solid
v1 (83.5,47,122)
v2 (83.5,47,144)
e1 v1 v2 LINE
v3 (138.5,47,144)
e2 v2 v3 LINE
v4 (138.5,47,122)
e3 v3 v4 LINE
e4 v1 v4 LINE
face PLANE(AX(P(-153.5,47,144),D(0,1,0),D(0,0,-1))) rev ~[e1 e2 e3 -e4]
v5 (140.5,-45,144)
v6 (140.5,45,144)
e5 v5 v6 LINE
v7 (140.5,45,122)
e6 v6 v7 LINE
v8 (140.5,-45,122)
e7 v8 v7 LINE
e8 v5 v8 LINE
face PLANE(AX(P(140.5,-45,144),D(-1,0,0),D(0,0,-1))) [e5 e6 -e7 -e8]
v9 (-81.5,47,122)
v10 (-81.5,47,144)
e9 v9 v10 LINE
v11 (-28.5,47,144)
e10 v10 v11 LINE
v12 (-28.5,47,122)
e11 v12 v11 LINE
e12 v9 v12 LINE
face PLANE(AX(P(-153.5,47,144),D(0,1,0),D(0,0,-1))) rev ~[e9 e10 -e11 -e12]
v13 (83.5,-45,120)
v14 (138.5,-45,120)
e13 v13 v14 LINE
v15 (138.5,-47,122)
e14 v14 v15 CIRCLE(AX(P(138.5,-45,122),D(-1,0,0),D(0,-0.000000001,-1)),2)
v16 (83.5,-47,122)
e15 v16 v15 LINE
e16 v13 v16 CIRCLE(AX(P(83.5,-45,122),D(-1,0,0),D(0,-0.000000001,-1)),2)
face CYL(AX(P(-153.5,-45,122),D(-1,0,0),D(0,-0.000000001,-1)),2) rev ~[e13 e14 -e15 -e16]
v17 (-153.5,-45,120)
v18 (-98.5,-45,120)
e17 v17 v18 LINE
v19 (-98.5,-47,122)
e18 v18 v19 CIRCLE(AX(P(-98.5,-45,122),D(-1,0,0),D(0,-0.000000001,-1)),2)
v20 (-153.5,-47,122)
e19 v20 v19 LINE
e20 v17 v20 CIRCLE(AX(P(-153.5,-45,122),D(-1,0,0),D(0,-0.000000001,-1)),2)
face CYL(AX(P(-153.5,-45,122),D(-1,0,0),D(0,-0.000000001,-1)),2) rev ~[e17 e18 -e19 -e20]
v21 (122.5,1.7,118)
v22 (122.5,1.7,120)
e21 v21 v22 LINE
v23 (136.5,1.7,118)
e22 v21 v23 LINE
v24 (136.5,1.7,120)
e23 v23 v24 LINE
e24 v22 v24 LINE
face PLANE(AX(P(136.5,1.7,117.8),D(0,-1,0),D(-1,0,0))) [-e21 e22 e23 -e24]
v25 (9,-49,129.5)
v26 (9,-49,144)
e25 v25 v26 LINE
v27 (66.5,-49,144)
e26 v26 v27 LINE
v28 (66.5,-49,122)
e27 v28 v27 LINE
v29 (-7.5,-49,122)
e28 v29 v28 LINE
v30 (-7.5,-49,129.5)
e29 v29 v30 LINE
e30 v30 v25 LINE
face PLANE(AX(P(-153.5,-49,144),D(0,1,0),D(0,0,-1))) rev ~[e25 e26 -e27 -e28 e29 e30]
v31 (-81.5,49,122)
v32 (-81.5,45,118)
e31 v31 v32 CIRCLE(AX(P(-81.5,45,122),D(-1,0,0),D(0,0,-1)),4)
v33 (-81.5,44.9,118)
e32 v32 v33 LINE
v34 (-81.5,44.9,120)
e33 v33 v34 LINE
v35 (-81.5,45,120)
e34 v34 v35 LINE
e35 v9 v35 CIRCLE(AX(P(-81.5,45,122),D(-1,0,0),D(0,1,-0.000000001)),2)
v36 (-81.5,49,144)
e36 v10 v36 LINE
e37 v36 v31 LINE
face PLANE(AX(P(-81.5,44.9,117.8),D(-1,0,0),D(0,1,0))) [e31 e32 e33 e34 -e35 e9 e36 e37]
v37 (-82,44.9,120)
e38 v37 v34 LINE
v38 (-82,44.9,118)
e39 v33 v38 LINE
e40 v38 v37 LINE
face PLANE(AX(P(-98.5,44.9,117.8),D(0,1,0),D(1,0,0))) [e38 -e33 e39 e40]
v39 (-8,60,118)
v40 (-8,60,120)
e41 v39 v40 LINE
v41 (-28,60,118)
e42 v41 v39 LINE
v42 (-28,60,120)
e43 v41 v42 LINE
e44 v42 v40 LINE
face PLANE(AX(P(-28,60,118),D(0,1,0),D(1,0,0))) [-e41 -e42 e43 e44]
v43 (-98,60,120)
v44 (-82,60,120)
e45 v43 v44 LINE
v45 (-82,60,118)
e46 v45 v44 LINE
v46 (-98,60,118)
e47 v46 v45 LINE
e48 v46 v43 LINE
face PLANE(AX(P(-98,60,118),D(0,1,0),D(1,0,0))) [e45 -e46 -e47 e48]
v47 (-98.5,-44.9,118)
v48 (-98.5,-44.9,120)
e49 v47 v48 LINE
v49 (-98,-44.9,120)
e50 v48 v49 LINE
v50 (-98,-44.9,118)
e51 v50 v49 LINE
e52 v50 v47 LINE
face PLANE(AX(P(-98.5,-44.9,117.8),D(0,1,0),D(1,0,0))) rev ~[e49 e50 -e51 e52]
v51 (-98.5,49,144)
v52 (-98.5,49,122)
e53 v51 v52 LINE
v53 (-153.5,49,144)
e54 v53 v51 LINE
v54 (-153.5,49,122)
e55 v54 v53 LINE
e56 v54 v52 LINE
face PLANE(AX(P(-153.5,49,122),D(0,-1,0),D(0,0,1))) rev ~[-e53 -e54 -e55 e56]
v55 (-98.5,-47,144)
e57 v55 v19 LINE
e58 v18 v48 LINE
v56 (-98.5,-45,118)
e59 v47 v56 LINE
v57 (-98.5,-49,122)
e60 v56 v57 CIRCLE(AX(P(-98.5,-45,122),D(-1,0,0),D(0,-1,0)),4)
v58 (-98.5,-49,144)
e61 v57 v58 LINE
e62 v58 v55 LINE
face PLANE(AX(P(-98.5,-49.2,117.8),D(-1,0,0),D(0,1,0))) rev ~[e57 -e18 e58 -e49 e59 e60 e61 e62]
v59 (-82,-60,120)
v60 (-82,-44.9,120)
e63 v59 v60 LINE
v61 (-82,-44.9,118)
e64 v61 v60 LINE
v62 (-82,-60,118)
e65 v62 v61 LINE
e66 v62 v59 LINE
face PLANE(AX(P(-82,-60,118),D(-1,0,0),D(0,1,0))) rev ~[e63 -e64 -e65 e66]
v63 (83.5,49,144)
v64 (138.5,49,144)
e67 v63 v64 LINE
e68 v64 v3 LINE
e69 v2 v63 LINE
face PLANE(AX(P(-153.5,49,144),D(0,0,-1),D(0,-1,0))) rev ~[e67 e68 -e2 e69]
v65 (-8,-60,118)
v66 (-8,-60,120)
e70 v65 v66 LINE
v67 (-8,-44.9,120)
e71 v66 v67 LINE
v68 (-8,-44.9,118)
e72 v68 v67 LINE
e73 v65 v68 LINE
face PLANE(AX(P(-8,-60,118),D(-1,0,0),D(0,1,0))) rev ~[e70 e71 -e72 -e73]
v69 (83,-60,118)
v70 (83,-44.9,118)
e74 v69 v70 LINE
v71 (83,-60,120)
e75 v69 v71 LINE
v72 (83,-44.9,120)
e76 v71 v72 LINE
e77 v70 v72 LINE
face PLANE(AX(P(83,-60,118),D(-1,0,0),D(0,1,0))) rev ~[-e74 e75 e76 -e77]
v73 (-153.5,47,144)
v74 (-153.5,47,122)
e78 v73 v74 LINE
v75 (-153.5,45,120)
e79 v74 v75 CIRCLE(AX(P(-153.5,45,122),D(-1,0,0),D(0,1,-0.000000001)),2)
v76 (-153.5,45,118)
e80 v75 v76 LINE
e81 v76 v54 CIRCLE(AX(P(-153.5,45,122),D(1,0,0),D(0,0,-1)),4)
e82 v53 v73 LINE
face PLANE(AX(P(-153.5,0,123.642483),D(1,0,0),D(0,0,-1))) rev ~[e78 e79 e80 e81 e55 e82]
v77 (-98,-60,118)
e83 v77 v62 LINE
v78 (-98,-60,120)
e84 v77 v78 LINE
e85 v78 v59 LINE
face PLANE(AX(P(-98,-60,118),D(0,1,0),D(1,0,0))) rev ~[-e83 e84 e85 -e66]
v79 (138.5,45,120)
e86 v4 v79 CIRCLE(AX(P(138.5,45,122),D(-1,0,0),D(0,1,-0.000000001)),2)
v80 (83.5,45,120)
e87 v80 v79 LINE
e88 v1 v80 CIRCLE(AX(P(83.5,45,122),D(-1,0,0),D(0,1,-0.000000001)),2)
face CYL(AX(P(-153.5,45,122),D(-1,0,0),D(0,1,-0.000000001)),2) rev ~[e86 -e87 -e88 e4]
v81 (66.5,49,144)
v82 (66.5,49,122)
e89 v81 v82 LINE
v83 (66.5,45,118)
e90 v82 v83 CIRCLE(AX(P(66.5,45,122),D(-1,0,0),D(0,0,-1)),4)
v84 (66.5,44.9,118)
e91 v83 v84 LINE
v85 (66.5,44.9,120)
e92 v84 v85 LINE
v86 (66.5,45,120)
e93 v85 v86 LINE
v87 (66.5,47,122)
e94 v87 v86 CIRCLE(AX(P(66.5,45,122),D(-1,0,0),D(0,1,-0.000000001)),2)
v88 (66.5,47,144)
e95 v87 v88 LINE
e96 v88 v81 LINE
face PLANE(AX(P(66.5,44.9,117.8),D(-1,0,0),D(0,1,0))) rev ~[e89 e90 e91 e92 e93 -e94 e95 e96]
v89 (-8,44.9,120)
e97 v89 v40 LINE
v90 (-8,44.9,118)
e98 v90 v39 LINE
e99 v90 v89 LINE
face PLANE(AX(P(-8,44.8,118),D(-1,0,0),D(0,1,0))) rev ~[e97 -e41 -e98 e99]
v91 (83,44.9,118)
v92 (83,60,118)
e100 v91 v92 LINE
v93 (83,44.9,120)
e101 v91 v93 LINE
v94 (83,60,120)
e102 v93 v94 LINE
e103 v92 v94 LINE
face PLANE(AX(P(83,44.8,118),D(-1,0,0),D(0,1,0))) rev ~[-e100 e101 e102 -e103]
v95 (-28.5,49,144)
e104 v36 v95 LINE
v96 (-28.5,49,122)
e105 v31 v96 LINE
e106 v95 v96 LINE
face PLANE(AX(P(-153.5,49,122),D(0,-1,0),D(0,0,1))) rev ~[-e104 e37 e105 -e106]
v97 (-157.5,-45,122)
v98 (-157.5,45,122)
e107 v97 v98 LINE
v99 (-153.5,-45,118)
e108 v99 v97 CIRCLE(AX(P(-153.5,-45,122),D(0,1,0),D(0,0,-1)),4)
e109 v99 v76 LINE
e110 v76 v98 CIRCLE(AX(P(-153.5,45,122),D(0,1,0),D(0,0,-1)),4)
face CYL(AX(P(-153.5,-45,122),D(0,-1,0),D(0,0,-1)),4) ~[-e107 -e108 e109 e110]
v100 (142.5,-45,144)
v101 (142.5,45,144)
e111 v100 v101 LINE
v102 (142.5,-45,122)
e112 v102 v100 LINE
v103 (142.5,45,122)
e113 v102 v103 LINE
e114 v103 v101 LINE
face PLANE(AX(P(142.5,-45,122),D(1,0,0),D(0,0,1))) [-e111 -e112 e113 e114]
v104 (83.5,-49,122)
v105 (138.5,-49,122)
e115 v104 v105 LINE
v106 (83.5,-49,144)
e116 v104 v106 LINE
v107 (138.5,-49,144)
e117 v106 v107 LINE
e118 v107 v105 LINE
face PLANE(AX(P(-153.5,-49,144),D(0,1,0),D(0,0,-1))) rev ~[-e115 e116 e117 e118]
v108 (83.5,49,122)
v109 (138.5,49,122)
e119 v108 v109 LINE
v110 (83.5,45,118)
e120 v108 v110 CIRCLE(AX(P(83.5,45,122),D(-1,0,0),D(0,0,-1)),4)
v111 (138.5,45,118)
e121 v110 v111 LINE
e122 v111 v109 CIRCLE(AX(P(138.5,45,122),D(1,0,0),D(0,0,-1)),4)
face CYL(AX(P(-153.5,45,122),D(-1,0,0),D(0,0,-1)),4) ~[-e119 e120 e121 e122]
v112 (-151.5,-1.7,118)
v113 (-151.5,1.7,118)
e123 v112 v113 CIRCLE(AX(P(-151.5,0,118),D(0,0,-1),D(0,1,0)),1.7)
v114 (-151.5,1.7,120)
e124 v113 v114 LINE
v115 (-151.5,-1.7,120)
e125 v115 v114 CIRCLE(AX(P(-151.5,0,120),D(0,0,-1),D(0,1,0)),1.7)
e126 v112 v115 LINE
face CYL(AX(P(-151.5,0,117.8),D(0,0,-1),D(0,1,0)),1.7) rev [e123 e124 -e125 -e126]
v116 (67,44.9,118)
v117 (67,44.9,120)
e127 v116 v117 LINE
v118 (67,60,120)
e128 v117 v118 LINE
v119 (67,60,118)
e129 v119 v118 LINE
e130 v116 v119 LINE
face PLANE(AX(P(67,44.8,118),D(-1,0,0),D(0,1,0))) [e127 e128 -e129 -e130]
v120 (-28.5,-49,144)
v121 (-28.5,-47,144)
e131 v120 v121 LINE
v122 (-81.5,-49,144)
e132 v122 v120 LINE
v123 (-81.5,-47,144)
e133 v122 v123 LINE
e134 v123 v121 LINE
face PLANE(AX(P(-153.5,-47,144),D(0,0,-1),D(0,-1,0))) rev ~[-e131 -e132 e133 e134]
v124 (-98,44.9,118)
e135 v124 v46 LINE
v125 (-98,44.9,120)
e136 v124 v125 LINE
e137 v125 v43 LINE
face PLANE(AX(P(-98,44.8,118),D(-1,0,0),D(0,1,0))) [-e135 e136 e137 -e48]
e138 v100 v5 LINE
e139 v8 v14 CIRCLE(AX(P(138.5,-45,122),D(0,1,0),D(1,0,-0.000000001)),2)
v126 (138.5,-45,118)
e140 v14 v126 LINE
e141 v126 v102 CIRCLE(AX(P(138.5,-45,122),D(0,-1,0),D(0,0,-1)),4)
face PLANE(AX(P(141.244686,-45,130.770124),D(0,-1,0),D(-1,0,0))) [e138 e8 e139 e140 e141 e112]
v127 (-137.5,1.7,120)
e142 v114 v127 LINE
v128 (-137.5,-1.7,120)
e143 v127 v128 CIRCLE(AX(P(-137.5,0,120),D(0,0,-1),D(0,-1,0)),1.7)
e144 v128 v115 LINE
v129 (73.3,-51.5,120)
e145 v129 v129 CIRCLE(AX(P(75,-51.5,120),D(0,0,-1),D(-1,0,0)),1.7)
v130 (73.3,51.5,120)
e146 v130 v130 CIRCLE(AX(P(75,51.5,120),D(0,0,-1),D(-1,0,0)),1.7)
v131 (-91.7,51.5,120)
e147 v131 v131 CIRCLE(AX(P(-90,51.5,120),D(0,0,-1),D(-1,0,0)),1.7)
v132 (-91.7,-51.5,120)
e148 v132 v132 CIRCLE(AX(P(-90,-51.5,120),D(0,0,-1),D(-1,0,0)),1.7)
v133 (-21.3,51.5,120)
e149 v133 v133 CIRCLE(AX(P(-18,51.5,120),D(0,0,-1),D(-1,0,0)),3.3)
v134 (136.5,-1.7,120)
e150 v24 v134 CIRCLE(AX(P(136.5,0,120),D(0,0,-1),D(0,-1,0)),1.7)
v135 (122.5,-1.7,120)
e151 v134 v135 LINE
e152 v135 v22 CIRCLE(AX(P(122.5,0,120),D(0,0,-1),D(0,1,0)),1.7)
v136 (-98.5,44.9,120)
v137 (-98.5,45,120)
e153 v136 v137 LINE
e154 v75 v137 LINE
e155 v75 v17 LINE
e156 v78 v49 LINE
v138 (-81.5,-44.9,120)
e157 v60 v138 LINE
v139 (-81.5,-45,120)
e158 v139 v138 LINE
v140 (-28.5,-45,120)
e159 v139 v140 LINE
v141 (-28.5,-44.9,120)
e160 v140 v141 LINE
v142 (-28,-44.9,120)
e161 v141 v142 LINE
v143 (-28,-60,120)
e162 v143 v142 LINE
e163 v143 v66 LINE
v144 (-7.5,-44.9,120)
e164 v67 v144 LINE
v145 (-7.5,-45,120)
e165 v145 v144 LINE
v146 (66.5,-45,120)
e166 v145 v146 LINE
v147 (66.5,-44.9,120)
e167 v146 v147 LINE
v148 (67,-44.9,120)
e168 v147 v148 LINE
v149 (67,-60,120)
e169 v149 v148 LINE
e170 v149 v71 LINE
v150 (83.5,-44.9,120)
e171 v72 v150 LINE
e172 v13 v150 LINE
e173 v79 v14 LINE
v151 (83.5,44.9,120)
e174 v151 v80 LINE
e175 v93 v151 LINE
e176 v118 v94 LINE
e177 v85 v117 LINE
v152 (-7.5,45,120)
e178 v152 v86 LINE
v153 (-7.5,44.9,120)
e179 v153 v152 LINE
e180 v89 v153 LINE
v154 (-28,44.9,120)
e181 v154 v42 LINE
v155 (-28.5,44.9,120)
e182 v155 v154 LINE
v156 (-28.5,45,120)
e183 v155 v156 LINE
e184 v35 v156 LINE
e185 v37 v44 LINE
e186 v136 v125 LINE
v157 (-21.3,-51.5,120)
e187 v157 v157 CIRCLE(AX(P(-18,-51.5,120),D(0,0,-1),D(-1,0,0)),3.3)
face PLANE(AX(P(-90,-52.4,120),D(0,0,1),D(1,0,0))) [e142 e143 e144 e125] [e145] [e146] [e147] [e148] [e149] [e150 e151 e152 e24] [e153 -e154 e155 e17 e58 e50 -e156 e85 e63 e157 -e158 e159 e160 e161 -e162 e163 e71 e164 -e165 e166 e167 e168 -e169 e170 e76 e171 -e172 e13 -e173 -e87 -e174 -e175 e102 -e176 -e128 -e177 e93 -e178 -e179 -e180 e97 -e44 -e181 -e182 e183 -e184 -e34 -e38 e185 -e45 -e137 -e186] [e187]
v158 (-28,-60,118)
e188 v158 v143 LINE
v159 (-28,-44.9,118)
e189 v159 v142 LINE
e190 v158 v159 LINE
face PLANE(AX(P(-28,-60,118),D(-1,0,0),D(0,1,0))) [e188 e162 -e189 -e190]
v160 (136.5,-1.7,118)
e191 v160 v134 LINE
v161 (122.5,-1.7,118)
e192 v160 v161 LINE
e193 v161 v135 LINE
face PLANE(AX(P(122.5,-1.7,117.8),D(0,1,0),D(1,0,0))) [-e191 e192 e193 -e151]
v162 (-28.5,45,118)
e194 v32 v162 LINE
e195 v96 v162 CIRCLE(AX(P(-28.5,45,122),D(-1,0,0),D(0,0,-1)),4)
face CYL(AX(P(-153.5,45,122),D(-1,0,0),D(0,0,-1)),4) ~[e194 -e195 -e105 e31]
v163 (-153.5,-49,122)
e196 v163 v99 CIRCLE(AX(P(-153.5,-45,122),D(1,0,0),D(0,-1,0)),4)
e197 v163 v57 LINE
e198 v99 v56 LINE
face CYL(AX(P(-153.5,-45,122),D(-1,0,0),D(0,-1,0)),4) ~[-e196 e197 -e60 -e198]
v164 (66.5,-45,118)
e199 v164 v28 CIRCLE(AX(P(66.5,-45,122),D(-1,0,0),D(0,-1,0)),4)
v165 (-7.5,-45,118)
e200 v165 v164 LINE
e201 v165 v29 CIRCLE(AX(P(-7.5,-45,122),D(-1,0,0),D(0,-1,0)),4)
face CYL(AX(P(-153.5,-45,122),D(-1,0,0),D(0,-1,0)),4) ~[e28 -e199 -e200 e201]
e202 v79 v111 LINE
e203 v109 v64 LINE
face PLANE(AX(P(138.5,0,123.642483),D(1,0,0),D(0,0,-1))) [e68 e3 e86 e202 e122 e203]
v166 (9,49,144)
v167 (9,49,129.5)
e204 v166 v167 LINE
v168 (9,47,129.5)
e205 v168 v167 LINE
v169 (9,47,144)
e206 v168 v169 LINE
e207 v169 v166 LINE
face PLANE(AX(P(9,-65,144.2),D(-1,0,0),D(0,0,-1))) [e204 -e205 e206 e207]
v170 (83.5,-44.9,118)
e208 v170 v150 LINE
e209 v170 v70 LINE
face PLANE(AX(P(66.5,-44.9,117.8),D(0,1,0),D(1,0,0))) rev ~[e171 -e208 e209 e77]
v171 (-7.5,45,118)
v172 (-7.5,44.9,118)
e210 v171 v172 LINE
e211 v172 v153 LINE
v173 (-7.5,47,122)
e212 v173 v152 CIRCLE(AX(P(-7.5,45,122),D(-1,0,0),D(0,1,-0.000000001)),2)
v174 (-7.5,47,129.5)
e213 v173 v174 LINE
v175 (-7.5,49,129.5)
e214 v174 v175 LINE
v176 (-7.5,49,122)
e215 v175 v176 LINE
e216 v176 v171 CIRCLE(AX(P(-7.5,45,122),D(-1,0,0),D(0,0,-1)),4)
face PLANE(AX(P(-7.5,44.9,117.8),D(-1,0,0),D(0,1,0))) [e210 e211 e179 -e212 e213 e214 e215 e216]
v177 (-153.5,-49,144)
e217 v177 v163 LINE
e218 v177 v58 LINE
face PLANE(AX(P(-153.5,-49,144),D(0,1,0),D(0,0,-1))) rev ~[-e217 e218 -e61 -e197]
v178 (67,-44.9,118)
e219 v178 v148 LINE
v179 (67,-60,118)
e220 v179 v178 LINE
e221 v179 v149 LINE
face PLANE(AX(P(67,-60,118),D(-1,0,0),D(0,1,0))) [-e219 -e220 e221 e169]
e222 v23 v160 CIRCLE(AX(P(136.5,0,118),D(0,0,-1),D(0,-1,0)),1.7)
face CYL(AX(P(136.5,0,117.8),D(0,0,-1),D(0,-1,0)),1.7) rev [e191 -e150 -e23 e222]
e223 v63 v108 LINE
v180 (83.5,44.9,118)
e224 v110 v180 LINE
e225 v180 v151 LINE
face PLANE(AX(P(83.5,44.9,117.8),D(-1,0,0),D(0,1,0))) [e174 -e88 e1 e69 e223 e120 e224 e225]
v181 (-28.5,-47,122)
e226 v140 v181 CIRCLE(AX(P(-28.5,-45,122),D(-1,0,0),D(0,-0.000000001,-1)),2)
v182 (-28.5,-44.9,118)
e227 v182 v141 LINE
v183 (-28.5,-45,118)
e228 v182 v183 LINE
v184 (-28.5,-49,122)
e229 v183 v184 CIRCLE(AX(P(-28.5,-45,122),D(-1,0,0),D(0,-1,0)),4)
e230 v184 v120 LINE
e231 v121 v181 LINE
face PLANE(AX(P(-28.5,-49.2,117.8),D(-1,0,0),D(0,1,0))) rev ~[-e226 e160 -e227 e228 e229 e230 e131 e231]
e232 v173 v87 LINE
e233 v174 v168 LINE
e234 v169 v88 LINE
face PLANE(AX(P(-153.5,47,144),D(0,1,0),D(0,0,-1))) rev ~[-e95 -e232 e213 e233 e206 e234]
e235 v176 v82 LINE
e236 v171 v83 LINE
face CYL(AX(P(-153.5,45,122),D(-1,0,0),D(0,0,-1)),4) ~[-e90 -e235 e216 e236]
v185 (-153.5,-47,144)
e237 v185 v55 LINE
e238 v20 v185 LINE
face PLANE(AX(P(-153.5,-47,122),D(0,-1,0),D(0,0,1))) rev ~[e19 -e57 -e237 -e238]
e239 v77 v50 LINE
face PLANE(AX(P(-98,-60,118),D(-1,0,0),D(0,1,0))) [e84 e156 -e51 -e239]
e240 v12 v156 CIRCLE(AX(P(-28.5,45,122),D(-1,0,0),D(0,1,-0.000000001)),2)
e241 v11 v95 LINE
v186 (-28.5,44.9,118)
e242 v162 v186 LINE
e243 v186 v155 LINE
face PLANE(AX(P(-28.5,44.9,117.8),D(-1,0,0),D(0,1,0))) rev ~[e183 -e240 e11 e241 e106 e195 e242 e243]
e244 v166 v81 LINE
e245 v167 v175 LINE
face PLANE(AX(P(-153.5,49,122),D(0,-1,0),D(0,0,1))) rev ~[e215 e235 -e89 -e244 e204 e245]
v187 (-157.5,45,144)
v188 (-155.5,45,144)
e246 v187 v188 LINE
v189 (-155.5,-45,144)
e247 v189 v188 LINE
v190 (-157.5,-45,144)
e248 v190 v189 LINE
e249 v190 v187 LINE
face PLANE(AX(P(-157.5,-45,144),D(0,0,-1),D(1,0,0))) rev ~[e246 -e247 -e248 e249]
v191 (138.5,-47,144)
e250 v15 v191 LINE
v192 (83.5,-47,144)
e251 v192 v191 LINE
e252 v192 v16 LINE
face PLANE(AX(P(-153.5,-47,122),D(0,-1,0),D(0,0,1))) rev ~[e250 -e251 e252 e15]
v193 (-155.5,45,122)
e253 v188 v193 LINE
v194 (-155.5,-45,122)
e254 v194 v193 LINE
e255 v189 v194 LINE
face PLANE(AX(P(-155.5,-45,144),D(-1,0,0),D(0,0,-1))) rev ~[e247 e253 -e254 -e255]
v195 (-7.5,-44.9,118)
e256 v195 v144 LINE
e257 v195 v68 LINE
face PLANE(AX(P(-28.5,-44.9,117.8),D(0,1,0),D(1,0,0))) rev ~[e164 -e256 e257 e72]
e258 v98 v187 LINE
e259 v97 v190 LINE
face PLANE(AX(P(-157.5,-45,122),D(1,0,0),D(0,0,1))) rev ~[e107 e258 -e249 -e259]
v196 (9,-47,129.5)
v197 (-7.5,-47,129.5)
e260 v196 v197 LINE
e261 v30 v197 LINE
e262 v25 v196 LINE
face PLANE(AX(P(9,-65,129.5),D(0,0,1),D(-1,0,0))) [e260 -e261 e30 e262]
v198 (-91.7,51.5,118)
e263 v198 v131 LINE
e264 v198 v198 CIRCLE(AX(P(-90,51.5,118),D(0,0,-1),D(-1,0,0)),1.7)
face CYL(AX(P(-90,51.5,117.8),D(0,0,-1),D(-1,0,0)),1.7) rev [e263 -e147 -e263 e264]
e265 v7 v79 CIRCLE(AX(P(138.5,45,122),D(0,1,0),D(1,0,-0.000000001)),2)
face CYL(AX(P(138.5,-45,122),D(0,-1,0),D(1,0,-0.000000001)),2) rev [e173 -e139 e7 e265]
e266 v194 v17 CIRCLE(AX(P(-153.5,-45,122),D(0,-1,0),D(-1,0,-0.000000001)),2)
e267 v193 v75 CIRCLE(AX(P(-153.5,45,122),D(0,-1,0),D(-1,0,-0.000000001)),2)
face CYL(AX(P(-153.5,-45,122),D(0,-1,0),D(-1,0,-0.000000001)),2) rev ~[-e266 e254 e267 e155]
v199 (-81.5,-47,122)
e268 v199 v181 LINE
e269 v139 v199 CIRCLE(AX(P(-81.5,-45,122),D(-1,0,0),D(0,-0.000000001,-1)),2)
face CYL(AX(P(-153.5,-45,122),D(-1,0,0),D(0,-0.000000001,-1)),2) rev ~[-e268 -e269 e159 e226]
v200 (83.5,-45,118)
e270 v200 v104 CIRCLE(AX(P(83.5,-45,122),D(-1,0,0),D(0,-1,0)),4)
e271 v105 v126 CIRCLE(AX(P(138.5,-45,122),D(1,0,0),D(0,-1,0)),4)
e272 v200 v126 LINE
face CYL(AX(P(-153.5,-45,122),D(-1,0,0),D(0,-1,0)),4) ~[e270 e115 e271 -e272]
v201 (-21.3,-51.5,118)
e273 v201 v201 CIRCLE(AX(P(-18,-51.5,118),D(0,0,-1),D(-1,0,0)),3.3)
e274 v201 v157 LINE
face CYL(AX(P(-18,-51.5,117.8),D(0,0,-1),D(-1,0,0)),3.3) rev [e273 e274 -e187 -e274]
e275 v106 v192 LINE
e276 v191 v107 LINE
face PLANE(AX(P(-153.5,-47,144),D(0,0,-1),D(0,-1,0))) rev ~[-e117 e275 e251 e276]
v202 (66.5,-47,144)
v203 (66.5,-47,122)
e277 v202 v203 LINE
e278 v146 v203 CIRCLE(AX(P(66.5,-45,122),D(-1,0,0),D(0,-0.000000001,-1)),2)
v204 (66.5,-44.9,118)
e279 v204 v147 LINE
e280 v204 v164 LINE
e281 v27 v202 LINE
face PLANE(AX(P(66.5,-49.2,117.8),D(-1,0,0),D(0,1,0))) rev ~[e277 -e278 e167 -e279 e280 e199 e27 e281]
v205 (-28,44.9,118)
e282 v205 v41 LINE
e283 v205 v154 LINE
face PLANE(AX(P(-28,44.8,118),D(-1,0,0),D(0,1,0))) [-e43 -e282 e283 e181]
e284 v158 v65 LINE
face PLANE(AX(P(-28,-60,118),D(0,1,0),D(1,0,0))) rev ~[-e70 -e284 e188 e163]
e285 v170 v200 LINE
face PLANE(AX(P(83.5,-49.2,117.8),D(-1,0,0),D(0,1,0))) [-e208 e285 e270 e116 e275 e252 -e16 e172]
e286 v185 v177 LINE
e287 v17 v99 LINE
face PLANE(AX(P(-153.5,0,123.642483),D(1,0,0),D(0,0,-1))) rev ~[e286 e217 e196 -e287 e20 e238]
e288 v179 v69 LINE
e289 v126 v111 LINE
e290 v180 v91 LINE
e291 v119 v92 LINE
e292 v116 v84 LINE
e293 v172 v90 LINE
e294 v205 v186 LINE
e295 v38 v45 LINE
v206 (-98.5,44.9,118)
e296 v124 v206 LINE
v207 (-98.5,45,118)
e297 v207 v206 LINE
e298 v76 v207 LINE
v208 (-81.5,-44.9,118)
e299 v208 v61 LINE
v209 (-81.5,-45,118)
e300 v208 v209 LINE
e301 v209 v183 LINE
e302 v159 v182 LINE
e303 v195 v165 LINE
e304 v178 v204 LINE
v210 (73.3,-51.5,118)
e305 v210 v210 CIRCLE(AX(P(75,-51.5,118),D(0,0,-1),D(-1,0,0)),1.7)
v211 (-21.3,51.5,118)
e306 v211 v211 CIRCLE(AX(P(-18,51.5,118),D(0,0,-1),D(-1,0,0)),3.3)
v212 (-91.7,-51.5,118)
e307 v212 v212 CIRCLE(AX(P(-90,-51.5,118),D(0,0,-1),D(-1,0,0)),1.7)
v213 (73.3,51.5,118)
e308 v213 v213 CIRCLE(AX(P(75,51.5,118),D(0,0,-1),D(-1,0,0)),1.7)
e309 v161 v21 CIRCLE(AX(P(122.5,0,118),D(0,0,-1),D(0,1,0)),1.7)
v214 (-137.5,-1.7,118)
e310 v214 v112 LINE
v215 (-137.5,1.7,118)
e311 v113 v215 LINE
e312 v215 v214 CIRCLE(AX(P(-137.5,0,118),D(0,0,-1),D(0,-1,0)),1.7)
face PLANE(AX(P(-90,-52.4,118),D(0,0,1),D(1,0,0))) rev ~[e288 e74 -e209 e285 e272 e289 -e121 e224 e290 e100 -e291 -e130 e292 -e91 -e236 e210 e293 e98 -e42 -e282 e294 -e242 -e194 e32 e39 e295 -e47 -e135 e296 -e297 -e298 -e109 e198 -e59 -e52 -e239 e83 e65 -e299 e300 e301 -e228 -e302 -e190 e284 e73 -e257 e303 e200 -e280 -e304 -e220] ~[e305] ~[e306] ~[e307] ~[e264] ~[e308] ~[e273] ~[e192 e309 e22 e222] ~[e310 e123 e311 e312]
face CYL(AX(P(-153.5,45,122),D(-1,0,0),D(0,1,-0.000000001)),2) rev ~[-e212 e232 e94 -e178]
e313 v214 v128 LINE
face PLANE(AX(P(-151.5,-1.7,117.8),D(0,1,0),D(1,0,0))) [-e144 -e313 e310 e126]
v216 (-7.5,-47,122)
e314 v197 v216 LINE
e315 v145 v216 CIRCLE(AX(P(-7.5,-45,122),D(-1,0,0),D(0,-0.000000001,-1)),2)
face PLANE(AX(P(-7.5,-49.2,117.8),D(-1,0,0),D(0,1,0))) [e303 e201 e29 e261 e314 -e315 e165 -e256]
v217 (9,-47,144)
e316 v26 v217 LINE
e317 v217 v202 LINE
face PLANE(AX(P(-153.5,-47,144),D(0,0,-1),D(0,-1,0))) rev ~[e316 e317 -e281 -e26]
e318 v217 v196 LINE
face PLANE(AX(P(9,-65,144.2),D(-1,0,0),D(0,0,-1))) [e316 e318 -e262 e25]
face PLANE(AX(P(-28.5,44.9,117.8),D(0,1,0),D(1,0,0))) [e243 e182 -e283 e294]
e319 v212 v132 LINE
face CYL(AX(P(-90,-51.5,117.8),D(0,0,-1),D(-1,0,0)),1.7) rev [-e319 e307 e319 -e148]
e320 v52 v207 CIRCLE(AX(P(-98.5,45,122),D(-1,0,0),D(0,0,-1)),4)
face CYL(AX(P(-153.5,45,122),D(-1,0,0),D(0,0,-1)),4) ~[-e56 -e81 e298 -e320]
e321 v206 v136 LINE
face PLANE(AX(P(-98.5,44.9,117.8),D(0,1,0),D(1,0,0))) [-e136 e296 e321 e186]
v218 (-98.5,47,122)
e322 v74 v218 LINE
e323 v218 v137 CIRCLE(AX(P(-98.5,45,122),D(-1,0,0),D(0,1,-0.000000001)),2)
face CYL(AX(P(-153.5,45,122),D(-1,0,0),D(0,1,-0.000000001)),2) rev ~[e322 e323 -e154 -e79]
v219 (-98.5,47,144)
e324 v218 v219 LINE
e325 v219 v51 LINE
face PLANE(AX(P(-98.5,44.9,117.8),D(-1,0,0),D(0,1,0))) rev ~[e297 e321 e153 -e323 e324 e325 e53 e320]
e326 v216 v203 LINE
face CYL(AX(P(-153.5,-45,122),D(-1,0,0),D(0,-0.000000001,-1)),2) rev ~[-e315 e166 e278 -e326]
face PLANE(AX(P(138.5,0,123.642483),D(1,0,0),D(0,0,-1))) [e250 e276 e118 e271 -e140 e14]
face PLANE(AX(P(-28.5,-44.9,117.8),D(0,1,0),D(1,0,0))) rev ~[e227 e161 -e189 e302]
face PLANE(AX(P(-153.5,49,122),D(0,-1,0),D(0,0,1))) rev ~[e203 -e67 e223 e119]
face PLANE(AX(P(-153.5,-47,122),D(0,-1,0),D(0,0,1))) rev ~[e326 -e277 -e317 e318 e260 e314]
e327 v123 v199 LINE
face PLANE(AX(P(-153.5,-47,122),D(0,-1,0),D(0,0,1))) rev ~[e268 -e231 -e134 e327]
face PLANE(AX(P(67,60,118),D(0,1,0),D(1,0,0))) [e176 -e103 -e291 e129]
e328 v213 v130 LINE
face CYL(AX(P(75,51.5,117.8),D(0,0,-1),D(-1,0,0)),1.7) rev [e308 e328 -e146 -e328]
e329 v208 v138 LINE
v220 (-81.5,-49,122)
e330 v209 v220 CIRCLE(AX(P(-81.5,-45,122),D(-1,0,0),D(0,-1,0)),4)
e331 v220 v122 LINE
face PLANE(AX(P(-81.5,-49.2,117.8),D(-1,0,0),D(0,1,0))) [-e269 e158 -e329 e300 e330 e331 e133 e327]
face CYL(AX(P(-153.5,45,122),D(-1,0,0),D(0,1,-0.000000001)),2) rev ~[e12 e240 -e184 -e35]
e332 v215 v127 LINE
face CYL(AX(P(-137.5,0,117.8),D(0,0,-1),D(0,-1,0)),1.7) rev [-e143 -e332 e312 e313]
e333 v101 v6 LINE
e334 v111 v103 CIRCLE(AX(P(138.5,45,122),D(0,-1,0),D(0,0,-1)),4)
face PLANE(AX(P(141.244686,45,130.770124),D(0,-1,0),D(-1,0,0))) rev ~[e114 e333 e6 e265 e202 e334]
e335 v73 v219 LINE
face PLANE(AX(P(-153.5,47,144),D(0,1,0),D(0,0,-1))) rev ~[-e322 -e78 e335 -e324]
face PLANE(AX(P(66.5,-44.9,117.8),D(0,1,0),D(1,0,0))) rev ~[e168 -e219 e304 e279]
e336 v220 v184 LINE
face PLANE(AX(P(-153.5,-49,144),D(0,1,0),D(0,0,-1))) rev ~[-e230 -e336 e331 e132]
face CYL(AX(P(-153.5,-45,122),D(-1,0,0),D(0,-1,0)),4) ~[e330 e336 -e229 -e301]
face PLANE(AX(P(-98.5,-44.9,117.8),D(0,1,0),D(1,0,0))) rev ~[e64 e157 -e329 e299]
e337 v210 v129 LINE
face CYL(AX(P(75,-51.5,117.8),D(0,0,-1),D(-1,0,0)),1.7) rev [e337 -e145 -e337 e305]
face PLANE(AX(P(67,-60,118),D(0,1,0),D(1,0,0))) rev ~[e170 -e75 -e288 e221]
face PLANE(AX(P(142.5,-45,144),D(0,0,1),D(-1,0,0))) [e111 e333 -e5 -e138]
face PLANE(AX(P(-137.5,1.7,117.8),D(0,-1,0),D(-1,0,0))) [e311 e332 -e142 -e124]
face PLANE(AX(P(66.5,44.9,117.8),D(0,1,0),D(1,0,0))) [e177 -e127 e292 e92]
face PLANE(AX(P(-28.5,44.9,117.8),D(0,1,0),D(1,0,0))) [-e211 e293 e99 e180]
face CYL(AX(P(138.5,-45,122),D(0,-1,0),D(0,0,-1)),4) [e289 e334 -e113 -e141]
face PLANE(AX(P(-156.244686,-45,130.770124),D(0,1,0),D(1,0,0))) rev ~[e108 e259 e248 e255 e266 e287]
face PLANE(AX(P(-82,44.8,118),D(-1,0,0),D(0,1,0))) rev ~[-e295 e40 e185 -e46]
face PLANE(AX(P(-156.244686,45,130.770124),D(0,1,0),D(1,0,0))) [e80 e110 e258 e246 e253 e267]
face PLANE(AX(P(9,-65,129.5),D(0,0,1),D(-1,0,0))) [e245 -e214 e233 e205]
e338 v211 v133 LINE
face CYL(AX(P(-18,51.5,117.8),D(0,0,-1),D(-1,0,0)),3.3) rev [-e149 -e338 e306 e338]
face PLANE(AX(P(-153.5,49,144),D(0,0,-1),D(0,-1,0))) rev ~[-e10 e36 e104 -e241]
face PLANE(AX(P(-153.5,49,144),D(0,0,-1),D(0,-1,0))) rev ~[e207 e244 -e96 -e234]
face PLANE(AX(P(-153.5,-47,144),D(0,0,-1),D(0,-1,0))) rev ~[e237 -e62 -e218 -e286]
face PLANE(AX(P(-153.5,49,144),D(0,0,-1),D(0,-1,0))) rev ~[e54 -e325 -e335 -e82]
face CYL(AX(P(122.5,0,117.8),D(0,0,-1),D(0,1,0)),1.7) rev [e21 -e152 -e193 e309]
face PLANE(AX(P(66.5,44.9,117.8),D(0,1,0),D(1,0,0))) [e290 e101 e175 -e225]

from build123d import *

# Parameters (mm, degrees)
TRAY_SECTION_DEPTH         = 292
REAR_WALL_DEPTH            = 90
FRONT_WALL_DEPTH           = 90
EAR_RELIEF_SKETCH_W        = 17
EAR_RELIEF_SKETCH_H        = 4.3
EAR_RELIEF_SKETCH_W_2      = 21
EAR_RELIEFS_DEPTH          = 26.4
MOUNTING_EAR_SKETCH_W      = 16
MOUNTING_EAR_SKETCH_H      = 15.2
MOUNTING_EAR_SKETCH_W_2    = 20
MOUNTING_EARS_DEPTH        = 2
TRAY_HOLE_SKETCH_R         = 1.7
TRAY_HOLE_SKETCH_R_2       = 3.3
TRAY_HOLES_AND_SLOTS_DEPTH = 2.4
CLAMP_CLEARANCE_SKETCH_W   = 33
CLAMP_CLEARANCE_SKETCH_H   = 14.7
CLAMP_CLEARANCE_DEPTH      = 130


with BuildPart() as part:
    # Tray Section Sketch → Tray Section (new body)
    with BuildSketch(Plane(origin=(-153.5, 0, 0), x_dir=(0, 0, -1), z_dir=(1, 0, 0))):
        with BuildLine():
            Line((-144, -49), (-122, -49))
            ThreePointArc((-122, -49), (-119.171572875, -47.828427125), (-118, -45))
            Line((-118, -45), (-118, 45))
            ThreePointArc((-118, 45), (-119.171572875, 47.828427125), (-122, 49))
            Line((-122, 49), (-144, 49))
            Line((-144, 49), (-144, 47))
            Line((-144, 47), (-122, 47))
            ThreePointArc((-122, 47), (-120.585786438, 46.414213562), (-120, 45))
            Line((-120, 45), (-120, -45))
            ThreePointArc((-120, -45), (-120.585786438, -46.414213562), (-122, -47))
            Line((-122, -47), (-144, -47))
            Line((-144, -47), (-144, -49))
        make_face()
    extrude(amount=TRAY_SECTION_DEPTH)

    # Rear Wall Sketch → Rear Wall (add)
    with BuildSketch(Plane(origin=(0, -45, 0), x_dir=(-1, 0, 0), z_dir=(0, -1, 0))):
        with BuildLine():
            Line((157.5, -122), (157.5, -144))
            Line((157.5, -144), (155.5, -144))
            Line((155.5, -144), (155.5, -122))
            ThreePointArc((155.5, -122), (154.914213562, -120.585786438), (153.5, -120))
            Line((153.5, -120), (153.5, -118))
            ThreePointArc((153.5, -118), (156.328427125, -119.171572875), (157.5, -122))
        make_face()
    extrude(amount=-REAR_WALL_DEPTH)

    # Front Wall Sketch → Front Wall (add)
    with BuildSketch(Plane(origin=(0, -45, 0), x_dir=(-1, 0, 0), z_dir=(0, -1, 0))):
        with BuildLine():
            Line((-142.5, -122), (-142.5, -144))
            Line((-142.5, -144), (-140.5, -144))
            Line((-140.5, -144), (-140.5, -122))
            ThreePointArc((-140.5, -122), (-139.914213562, -120.585786438), (-138.5, -120))
            Line((-138.5, -120), (-138.5, -118))
            ThreePointArc((-138.5, -118), (-141.328427125, -119.171572875), (-142.5, -122))
        make_face()
    extrude(amount=-FRONT_WALL_DEPTH)

    # Ear Relief Sketch → Ear Reliefs (cut)
    with BuildSketch(Plane.XY.offset(117.8)):
        with Locations((-90, -47.05)):
            Rectangle(EAR_RELIEF_SKETCH_W, EAR_RELIEF_SKETCH_H)
        with Locations((-90, 47.05)):
            Rectangle(EAR_RELIEF_SKETCH_W, EAR_RELIEF_SKETCH_H)
        with Locations((75, -47.05)):
            Rectangle(EAR_RELIEF_SKETCH_W, EAR_RELIEF_SKETCH_H)
        with Locations((75, 47.05)):
            Rectangle(EAR_RELIEF_SKETCH_W, EAR_RELIEF_SKETCH_H)
        with Locations((-18, -47.05)):
            Rectangle(EAR_RELIEF_SKETCH_W_2, EAR_RELIEF_SKETCH_H)
        with Locations((-18, 47.05)):
            Rectangle(EAR_RELIEF_SKETCH_W_2, EAR_RELIEF_SKETCH_H)
    extrude(amount=EAR_RELIEFS_DEPTH, mode=Mode.SUBTRACT)

    # Mounting Ear Sketch → Mounting Ears (add)
    with BuildSketch(Plane.XY.offset(118)):
        with Locations((-90, -52.4)):
            Rectangle(MOUNTING_EAR_SKETCH_W, MOUNTING_EAR_SKETCH_H)
        with Locations((-90, 52.4)):
            Rectangle(MOUNTING_EAR_SKETCH_W, MOUNTING_EAR_SKETCH_H)
        with Locations((75, -52.4)):
            Rectangle(MOUNTING_EAR_SKETCH_W, MOUNTING_EAR_SKETCH_H)
        with Locations((75, 52.4)):
            Rectangle(MOUNTING_EAR_SKETCH_W, MOUNTING_EAR_SKETCH_H)
        with Locations((-18, -52.4)):
            Rectangle(MOUNTING_EAR_SKETCH_W_2, MOUNTING_EAR_SKETCH_H)
        with Locations((-18, 52.4)):
            Rectangle(MOUNTING_EAR_SKETCH_W_2, MOUNTING_EAR_SKETCH_H)
    extrude(amount=MOUNTING_EARS_DEPTH)

    # Tray Hole Sketch → Tray Holes and Slots (cut)
    with BuildSketch(Plane.XY.offset(117.8)):
        with Locations(Location((-90, -51.5, 0), (0, 0, 180))):
            Circle(TRAY_HOLE_SKETCH_R)
        with Locations(Location((-90, 51.5, 0), (0, 0, 180))):
            Circle(TRAY_HOLE_SKETCH_R)
        with Locations(Location((75, -51.5, 0), (0, 0, 180))):
            Circle(TRAY_HOLE_SKETCH_R)
        with Locations(Location((75, 51.5, 0), (0, 0, 180))):
            Circle(TRAY_HOLE_SKETCH_R)
        with Locations(Location((-18, -51.5, 0), (0, 0, 180))):
            Circle(TRAY_HOLE_SKETCH_R_2)
        with Locations(Location((-18, 51.5, 0), (0, 0, 180))):
            Circle(TRAY_HOLE_SKETCH_R_2)
        with BuildLine():
            Line((-151.5, -1.7), (-137.5, -1.7))
            ThreePointArc((-137.5, -1.7), (-135.8, 0), (-137.5, 1.7))
            Line((-137.5, 1.7), (-151.5, 1.7))
            ThreePointArc((-151.5, 1.7), (-153.2, 0), (-151.5, -1.7))
        make_face()
        with BuildLine():
            Line((122.5, -1.7), (136.5, -1.7))
            ThreePointArc((136.5, -1.7), (138.2, 0), (136.5, 1.7))
            Line((136.5, 1.7), (122.5, 1.7))
            ThreePointArc((122.5, 1.7), (120.8, 0), (122.5, -1.7))
        make_face()
    extrude(amount=TRAY_HOLES_AND_SLOTS_DEPTH, mode=Mode.SUBTRACT)

    # Clamp Clearance Sketch → Clamp Clearance (cut)
    with BuildSketch(Plane(origin=(0, -65, 0), x_dir=(-1, 0, 0), z_dir=(0, -1, 0))):
        with Locations((7.5, -136.85)):
            Rectangle(CLAMP_CLEARANCE_SKETCH_W, CLAMP_CLEARANCE_SKETCH_H)
    extrude(amount=-CLAMP_CLEARANCE_DEPTH, mode=Mode.SUBTRACT)


solid = part.part
